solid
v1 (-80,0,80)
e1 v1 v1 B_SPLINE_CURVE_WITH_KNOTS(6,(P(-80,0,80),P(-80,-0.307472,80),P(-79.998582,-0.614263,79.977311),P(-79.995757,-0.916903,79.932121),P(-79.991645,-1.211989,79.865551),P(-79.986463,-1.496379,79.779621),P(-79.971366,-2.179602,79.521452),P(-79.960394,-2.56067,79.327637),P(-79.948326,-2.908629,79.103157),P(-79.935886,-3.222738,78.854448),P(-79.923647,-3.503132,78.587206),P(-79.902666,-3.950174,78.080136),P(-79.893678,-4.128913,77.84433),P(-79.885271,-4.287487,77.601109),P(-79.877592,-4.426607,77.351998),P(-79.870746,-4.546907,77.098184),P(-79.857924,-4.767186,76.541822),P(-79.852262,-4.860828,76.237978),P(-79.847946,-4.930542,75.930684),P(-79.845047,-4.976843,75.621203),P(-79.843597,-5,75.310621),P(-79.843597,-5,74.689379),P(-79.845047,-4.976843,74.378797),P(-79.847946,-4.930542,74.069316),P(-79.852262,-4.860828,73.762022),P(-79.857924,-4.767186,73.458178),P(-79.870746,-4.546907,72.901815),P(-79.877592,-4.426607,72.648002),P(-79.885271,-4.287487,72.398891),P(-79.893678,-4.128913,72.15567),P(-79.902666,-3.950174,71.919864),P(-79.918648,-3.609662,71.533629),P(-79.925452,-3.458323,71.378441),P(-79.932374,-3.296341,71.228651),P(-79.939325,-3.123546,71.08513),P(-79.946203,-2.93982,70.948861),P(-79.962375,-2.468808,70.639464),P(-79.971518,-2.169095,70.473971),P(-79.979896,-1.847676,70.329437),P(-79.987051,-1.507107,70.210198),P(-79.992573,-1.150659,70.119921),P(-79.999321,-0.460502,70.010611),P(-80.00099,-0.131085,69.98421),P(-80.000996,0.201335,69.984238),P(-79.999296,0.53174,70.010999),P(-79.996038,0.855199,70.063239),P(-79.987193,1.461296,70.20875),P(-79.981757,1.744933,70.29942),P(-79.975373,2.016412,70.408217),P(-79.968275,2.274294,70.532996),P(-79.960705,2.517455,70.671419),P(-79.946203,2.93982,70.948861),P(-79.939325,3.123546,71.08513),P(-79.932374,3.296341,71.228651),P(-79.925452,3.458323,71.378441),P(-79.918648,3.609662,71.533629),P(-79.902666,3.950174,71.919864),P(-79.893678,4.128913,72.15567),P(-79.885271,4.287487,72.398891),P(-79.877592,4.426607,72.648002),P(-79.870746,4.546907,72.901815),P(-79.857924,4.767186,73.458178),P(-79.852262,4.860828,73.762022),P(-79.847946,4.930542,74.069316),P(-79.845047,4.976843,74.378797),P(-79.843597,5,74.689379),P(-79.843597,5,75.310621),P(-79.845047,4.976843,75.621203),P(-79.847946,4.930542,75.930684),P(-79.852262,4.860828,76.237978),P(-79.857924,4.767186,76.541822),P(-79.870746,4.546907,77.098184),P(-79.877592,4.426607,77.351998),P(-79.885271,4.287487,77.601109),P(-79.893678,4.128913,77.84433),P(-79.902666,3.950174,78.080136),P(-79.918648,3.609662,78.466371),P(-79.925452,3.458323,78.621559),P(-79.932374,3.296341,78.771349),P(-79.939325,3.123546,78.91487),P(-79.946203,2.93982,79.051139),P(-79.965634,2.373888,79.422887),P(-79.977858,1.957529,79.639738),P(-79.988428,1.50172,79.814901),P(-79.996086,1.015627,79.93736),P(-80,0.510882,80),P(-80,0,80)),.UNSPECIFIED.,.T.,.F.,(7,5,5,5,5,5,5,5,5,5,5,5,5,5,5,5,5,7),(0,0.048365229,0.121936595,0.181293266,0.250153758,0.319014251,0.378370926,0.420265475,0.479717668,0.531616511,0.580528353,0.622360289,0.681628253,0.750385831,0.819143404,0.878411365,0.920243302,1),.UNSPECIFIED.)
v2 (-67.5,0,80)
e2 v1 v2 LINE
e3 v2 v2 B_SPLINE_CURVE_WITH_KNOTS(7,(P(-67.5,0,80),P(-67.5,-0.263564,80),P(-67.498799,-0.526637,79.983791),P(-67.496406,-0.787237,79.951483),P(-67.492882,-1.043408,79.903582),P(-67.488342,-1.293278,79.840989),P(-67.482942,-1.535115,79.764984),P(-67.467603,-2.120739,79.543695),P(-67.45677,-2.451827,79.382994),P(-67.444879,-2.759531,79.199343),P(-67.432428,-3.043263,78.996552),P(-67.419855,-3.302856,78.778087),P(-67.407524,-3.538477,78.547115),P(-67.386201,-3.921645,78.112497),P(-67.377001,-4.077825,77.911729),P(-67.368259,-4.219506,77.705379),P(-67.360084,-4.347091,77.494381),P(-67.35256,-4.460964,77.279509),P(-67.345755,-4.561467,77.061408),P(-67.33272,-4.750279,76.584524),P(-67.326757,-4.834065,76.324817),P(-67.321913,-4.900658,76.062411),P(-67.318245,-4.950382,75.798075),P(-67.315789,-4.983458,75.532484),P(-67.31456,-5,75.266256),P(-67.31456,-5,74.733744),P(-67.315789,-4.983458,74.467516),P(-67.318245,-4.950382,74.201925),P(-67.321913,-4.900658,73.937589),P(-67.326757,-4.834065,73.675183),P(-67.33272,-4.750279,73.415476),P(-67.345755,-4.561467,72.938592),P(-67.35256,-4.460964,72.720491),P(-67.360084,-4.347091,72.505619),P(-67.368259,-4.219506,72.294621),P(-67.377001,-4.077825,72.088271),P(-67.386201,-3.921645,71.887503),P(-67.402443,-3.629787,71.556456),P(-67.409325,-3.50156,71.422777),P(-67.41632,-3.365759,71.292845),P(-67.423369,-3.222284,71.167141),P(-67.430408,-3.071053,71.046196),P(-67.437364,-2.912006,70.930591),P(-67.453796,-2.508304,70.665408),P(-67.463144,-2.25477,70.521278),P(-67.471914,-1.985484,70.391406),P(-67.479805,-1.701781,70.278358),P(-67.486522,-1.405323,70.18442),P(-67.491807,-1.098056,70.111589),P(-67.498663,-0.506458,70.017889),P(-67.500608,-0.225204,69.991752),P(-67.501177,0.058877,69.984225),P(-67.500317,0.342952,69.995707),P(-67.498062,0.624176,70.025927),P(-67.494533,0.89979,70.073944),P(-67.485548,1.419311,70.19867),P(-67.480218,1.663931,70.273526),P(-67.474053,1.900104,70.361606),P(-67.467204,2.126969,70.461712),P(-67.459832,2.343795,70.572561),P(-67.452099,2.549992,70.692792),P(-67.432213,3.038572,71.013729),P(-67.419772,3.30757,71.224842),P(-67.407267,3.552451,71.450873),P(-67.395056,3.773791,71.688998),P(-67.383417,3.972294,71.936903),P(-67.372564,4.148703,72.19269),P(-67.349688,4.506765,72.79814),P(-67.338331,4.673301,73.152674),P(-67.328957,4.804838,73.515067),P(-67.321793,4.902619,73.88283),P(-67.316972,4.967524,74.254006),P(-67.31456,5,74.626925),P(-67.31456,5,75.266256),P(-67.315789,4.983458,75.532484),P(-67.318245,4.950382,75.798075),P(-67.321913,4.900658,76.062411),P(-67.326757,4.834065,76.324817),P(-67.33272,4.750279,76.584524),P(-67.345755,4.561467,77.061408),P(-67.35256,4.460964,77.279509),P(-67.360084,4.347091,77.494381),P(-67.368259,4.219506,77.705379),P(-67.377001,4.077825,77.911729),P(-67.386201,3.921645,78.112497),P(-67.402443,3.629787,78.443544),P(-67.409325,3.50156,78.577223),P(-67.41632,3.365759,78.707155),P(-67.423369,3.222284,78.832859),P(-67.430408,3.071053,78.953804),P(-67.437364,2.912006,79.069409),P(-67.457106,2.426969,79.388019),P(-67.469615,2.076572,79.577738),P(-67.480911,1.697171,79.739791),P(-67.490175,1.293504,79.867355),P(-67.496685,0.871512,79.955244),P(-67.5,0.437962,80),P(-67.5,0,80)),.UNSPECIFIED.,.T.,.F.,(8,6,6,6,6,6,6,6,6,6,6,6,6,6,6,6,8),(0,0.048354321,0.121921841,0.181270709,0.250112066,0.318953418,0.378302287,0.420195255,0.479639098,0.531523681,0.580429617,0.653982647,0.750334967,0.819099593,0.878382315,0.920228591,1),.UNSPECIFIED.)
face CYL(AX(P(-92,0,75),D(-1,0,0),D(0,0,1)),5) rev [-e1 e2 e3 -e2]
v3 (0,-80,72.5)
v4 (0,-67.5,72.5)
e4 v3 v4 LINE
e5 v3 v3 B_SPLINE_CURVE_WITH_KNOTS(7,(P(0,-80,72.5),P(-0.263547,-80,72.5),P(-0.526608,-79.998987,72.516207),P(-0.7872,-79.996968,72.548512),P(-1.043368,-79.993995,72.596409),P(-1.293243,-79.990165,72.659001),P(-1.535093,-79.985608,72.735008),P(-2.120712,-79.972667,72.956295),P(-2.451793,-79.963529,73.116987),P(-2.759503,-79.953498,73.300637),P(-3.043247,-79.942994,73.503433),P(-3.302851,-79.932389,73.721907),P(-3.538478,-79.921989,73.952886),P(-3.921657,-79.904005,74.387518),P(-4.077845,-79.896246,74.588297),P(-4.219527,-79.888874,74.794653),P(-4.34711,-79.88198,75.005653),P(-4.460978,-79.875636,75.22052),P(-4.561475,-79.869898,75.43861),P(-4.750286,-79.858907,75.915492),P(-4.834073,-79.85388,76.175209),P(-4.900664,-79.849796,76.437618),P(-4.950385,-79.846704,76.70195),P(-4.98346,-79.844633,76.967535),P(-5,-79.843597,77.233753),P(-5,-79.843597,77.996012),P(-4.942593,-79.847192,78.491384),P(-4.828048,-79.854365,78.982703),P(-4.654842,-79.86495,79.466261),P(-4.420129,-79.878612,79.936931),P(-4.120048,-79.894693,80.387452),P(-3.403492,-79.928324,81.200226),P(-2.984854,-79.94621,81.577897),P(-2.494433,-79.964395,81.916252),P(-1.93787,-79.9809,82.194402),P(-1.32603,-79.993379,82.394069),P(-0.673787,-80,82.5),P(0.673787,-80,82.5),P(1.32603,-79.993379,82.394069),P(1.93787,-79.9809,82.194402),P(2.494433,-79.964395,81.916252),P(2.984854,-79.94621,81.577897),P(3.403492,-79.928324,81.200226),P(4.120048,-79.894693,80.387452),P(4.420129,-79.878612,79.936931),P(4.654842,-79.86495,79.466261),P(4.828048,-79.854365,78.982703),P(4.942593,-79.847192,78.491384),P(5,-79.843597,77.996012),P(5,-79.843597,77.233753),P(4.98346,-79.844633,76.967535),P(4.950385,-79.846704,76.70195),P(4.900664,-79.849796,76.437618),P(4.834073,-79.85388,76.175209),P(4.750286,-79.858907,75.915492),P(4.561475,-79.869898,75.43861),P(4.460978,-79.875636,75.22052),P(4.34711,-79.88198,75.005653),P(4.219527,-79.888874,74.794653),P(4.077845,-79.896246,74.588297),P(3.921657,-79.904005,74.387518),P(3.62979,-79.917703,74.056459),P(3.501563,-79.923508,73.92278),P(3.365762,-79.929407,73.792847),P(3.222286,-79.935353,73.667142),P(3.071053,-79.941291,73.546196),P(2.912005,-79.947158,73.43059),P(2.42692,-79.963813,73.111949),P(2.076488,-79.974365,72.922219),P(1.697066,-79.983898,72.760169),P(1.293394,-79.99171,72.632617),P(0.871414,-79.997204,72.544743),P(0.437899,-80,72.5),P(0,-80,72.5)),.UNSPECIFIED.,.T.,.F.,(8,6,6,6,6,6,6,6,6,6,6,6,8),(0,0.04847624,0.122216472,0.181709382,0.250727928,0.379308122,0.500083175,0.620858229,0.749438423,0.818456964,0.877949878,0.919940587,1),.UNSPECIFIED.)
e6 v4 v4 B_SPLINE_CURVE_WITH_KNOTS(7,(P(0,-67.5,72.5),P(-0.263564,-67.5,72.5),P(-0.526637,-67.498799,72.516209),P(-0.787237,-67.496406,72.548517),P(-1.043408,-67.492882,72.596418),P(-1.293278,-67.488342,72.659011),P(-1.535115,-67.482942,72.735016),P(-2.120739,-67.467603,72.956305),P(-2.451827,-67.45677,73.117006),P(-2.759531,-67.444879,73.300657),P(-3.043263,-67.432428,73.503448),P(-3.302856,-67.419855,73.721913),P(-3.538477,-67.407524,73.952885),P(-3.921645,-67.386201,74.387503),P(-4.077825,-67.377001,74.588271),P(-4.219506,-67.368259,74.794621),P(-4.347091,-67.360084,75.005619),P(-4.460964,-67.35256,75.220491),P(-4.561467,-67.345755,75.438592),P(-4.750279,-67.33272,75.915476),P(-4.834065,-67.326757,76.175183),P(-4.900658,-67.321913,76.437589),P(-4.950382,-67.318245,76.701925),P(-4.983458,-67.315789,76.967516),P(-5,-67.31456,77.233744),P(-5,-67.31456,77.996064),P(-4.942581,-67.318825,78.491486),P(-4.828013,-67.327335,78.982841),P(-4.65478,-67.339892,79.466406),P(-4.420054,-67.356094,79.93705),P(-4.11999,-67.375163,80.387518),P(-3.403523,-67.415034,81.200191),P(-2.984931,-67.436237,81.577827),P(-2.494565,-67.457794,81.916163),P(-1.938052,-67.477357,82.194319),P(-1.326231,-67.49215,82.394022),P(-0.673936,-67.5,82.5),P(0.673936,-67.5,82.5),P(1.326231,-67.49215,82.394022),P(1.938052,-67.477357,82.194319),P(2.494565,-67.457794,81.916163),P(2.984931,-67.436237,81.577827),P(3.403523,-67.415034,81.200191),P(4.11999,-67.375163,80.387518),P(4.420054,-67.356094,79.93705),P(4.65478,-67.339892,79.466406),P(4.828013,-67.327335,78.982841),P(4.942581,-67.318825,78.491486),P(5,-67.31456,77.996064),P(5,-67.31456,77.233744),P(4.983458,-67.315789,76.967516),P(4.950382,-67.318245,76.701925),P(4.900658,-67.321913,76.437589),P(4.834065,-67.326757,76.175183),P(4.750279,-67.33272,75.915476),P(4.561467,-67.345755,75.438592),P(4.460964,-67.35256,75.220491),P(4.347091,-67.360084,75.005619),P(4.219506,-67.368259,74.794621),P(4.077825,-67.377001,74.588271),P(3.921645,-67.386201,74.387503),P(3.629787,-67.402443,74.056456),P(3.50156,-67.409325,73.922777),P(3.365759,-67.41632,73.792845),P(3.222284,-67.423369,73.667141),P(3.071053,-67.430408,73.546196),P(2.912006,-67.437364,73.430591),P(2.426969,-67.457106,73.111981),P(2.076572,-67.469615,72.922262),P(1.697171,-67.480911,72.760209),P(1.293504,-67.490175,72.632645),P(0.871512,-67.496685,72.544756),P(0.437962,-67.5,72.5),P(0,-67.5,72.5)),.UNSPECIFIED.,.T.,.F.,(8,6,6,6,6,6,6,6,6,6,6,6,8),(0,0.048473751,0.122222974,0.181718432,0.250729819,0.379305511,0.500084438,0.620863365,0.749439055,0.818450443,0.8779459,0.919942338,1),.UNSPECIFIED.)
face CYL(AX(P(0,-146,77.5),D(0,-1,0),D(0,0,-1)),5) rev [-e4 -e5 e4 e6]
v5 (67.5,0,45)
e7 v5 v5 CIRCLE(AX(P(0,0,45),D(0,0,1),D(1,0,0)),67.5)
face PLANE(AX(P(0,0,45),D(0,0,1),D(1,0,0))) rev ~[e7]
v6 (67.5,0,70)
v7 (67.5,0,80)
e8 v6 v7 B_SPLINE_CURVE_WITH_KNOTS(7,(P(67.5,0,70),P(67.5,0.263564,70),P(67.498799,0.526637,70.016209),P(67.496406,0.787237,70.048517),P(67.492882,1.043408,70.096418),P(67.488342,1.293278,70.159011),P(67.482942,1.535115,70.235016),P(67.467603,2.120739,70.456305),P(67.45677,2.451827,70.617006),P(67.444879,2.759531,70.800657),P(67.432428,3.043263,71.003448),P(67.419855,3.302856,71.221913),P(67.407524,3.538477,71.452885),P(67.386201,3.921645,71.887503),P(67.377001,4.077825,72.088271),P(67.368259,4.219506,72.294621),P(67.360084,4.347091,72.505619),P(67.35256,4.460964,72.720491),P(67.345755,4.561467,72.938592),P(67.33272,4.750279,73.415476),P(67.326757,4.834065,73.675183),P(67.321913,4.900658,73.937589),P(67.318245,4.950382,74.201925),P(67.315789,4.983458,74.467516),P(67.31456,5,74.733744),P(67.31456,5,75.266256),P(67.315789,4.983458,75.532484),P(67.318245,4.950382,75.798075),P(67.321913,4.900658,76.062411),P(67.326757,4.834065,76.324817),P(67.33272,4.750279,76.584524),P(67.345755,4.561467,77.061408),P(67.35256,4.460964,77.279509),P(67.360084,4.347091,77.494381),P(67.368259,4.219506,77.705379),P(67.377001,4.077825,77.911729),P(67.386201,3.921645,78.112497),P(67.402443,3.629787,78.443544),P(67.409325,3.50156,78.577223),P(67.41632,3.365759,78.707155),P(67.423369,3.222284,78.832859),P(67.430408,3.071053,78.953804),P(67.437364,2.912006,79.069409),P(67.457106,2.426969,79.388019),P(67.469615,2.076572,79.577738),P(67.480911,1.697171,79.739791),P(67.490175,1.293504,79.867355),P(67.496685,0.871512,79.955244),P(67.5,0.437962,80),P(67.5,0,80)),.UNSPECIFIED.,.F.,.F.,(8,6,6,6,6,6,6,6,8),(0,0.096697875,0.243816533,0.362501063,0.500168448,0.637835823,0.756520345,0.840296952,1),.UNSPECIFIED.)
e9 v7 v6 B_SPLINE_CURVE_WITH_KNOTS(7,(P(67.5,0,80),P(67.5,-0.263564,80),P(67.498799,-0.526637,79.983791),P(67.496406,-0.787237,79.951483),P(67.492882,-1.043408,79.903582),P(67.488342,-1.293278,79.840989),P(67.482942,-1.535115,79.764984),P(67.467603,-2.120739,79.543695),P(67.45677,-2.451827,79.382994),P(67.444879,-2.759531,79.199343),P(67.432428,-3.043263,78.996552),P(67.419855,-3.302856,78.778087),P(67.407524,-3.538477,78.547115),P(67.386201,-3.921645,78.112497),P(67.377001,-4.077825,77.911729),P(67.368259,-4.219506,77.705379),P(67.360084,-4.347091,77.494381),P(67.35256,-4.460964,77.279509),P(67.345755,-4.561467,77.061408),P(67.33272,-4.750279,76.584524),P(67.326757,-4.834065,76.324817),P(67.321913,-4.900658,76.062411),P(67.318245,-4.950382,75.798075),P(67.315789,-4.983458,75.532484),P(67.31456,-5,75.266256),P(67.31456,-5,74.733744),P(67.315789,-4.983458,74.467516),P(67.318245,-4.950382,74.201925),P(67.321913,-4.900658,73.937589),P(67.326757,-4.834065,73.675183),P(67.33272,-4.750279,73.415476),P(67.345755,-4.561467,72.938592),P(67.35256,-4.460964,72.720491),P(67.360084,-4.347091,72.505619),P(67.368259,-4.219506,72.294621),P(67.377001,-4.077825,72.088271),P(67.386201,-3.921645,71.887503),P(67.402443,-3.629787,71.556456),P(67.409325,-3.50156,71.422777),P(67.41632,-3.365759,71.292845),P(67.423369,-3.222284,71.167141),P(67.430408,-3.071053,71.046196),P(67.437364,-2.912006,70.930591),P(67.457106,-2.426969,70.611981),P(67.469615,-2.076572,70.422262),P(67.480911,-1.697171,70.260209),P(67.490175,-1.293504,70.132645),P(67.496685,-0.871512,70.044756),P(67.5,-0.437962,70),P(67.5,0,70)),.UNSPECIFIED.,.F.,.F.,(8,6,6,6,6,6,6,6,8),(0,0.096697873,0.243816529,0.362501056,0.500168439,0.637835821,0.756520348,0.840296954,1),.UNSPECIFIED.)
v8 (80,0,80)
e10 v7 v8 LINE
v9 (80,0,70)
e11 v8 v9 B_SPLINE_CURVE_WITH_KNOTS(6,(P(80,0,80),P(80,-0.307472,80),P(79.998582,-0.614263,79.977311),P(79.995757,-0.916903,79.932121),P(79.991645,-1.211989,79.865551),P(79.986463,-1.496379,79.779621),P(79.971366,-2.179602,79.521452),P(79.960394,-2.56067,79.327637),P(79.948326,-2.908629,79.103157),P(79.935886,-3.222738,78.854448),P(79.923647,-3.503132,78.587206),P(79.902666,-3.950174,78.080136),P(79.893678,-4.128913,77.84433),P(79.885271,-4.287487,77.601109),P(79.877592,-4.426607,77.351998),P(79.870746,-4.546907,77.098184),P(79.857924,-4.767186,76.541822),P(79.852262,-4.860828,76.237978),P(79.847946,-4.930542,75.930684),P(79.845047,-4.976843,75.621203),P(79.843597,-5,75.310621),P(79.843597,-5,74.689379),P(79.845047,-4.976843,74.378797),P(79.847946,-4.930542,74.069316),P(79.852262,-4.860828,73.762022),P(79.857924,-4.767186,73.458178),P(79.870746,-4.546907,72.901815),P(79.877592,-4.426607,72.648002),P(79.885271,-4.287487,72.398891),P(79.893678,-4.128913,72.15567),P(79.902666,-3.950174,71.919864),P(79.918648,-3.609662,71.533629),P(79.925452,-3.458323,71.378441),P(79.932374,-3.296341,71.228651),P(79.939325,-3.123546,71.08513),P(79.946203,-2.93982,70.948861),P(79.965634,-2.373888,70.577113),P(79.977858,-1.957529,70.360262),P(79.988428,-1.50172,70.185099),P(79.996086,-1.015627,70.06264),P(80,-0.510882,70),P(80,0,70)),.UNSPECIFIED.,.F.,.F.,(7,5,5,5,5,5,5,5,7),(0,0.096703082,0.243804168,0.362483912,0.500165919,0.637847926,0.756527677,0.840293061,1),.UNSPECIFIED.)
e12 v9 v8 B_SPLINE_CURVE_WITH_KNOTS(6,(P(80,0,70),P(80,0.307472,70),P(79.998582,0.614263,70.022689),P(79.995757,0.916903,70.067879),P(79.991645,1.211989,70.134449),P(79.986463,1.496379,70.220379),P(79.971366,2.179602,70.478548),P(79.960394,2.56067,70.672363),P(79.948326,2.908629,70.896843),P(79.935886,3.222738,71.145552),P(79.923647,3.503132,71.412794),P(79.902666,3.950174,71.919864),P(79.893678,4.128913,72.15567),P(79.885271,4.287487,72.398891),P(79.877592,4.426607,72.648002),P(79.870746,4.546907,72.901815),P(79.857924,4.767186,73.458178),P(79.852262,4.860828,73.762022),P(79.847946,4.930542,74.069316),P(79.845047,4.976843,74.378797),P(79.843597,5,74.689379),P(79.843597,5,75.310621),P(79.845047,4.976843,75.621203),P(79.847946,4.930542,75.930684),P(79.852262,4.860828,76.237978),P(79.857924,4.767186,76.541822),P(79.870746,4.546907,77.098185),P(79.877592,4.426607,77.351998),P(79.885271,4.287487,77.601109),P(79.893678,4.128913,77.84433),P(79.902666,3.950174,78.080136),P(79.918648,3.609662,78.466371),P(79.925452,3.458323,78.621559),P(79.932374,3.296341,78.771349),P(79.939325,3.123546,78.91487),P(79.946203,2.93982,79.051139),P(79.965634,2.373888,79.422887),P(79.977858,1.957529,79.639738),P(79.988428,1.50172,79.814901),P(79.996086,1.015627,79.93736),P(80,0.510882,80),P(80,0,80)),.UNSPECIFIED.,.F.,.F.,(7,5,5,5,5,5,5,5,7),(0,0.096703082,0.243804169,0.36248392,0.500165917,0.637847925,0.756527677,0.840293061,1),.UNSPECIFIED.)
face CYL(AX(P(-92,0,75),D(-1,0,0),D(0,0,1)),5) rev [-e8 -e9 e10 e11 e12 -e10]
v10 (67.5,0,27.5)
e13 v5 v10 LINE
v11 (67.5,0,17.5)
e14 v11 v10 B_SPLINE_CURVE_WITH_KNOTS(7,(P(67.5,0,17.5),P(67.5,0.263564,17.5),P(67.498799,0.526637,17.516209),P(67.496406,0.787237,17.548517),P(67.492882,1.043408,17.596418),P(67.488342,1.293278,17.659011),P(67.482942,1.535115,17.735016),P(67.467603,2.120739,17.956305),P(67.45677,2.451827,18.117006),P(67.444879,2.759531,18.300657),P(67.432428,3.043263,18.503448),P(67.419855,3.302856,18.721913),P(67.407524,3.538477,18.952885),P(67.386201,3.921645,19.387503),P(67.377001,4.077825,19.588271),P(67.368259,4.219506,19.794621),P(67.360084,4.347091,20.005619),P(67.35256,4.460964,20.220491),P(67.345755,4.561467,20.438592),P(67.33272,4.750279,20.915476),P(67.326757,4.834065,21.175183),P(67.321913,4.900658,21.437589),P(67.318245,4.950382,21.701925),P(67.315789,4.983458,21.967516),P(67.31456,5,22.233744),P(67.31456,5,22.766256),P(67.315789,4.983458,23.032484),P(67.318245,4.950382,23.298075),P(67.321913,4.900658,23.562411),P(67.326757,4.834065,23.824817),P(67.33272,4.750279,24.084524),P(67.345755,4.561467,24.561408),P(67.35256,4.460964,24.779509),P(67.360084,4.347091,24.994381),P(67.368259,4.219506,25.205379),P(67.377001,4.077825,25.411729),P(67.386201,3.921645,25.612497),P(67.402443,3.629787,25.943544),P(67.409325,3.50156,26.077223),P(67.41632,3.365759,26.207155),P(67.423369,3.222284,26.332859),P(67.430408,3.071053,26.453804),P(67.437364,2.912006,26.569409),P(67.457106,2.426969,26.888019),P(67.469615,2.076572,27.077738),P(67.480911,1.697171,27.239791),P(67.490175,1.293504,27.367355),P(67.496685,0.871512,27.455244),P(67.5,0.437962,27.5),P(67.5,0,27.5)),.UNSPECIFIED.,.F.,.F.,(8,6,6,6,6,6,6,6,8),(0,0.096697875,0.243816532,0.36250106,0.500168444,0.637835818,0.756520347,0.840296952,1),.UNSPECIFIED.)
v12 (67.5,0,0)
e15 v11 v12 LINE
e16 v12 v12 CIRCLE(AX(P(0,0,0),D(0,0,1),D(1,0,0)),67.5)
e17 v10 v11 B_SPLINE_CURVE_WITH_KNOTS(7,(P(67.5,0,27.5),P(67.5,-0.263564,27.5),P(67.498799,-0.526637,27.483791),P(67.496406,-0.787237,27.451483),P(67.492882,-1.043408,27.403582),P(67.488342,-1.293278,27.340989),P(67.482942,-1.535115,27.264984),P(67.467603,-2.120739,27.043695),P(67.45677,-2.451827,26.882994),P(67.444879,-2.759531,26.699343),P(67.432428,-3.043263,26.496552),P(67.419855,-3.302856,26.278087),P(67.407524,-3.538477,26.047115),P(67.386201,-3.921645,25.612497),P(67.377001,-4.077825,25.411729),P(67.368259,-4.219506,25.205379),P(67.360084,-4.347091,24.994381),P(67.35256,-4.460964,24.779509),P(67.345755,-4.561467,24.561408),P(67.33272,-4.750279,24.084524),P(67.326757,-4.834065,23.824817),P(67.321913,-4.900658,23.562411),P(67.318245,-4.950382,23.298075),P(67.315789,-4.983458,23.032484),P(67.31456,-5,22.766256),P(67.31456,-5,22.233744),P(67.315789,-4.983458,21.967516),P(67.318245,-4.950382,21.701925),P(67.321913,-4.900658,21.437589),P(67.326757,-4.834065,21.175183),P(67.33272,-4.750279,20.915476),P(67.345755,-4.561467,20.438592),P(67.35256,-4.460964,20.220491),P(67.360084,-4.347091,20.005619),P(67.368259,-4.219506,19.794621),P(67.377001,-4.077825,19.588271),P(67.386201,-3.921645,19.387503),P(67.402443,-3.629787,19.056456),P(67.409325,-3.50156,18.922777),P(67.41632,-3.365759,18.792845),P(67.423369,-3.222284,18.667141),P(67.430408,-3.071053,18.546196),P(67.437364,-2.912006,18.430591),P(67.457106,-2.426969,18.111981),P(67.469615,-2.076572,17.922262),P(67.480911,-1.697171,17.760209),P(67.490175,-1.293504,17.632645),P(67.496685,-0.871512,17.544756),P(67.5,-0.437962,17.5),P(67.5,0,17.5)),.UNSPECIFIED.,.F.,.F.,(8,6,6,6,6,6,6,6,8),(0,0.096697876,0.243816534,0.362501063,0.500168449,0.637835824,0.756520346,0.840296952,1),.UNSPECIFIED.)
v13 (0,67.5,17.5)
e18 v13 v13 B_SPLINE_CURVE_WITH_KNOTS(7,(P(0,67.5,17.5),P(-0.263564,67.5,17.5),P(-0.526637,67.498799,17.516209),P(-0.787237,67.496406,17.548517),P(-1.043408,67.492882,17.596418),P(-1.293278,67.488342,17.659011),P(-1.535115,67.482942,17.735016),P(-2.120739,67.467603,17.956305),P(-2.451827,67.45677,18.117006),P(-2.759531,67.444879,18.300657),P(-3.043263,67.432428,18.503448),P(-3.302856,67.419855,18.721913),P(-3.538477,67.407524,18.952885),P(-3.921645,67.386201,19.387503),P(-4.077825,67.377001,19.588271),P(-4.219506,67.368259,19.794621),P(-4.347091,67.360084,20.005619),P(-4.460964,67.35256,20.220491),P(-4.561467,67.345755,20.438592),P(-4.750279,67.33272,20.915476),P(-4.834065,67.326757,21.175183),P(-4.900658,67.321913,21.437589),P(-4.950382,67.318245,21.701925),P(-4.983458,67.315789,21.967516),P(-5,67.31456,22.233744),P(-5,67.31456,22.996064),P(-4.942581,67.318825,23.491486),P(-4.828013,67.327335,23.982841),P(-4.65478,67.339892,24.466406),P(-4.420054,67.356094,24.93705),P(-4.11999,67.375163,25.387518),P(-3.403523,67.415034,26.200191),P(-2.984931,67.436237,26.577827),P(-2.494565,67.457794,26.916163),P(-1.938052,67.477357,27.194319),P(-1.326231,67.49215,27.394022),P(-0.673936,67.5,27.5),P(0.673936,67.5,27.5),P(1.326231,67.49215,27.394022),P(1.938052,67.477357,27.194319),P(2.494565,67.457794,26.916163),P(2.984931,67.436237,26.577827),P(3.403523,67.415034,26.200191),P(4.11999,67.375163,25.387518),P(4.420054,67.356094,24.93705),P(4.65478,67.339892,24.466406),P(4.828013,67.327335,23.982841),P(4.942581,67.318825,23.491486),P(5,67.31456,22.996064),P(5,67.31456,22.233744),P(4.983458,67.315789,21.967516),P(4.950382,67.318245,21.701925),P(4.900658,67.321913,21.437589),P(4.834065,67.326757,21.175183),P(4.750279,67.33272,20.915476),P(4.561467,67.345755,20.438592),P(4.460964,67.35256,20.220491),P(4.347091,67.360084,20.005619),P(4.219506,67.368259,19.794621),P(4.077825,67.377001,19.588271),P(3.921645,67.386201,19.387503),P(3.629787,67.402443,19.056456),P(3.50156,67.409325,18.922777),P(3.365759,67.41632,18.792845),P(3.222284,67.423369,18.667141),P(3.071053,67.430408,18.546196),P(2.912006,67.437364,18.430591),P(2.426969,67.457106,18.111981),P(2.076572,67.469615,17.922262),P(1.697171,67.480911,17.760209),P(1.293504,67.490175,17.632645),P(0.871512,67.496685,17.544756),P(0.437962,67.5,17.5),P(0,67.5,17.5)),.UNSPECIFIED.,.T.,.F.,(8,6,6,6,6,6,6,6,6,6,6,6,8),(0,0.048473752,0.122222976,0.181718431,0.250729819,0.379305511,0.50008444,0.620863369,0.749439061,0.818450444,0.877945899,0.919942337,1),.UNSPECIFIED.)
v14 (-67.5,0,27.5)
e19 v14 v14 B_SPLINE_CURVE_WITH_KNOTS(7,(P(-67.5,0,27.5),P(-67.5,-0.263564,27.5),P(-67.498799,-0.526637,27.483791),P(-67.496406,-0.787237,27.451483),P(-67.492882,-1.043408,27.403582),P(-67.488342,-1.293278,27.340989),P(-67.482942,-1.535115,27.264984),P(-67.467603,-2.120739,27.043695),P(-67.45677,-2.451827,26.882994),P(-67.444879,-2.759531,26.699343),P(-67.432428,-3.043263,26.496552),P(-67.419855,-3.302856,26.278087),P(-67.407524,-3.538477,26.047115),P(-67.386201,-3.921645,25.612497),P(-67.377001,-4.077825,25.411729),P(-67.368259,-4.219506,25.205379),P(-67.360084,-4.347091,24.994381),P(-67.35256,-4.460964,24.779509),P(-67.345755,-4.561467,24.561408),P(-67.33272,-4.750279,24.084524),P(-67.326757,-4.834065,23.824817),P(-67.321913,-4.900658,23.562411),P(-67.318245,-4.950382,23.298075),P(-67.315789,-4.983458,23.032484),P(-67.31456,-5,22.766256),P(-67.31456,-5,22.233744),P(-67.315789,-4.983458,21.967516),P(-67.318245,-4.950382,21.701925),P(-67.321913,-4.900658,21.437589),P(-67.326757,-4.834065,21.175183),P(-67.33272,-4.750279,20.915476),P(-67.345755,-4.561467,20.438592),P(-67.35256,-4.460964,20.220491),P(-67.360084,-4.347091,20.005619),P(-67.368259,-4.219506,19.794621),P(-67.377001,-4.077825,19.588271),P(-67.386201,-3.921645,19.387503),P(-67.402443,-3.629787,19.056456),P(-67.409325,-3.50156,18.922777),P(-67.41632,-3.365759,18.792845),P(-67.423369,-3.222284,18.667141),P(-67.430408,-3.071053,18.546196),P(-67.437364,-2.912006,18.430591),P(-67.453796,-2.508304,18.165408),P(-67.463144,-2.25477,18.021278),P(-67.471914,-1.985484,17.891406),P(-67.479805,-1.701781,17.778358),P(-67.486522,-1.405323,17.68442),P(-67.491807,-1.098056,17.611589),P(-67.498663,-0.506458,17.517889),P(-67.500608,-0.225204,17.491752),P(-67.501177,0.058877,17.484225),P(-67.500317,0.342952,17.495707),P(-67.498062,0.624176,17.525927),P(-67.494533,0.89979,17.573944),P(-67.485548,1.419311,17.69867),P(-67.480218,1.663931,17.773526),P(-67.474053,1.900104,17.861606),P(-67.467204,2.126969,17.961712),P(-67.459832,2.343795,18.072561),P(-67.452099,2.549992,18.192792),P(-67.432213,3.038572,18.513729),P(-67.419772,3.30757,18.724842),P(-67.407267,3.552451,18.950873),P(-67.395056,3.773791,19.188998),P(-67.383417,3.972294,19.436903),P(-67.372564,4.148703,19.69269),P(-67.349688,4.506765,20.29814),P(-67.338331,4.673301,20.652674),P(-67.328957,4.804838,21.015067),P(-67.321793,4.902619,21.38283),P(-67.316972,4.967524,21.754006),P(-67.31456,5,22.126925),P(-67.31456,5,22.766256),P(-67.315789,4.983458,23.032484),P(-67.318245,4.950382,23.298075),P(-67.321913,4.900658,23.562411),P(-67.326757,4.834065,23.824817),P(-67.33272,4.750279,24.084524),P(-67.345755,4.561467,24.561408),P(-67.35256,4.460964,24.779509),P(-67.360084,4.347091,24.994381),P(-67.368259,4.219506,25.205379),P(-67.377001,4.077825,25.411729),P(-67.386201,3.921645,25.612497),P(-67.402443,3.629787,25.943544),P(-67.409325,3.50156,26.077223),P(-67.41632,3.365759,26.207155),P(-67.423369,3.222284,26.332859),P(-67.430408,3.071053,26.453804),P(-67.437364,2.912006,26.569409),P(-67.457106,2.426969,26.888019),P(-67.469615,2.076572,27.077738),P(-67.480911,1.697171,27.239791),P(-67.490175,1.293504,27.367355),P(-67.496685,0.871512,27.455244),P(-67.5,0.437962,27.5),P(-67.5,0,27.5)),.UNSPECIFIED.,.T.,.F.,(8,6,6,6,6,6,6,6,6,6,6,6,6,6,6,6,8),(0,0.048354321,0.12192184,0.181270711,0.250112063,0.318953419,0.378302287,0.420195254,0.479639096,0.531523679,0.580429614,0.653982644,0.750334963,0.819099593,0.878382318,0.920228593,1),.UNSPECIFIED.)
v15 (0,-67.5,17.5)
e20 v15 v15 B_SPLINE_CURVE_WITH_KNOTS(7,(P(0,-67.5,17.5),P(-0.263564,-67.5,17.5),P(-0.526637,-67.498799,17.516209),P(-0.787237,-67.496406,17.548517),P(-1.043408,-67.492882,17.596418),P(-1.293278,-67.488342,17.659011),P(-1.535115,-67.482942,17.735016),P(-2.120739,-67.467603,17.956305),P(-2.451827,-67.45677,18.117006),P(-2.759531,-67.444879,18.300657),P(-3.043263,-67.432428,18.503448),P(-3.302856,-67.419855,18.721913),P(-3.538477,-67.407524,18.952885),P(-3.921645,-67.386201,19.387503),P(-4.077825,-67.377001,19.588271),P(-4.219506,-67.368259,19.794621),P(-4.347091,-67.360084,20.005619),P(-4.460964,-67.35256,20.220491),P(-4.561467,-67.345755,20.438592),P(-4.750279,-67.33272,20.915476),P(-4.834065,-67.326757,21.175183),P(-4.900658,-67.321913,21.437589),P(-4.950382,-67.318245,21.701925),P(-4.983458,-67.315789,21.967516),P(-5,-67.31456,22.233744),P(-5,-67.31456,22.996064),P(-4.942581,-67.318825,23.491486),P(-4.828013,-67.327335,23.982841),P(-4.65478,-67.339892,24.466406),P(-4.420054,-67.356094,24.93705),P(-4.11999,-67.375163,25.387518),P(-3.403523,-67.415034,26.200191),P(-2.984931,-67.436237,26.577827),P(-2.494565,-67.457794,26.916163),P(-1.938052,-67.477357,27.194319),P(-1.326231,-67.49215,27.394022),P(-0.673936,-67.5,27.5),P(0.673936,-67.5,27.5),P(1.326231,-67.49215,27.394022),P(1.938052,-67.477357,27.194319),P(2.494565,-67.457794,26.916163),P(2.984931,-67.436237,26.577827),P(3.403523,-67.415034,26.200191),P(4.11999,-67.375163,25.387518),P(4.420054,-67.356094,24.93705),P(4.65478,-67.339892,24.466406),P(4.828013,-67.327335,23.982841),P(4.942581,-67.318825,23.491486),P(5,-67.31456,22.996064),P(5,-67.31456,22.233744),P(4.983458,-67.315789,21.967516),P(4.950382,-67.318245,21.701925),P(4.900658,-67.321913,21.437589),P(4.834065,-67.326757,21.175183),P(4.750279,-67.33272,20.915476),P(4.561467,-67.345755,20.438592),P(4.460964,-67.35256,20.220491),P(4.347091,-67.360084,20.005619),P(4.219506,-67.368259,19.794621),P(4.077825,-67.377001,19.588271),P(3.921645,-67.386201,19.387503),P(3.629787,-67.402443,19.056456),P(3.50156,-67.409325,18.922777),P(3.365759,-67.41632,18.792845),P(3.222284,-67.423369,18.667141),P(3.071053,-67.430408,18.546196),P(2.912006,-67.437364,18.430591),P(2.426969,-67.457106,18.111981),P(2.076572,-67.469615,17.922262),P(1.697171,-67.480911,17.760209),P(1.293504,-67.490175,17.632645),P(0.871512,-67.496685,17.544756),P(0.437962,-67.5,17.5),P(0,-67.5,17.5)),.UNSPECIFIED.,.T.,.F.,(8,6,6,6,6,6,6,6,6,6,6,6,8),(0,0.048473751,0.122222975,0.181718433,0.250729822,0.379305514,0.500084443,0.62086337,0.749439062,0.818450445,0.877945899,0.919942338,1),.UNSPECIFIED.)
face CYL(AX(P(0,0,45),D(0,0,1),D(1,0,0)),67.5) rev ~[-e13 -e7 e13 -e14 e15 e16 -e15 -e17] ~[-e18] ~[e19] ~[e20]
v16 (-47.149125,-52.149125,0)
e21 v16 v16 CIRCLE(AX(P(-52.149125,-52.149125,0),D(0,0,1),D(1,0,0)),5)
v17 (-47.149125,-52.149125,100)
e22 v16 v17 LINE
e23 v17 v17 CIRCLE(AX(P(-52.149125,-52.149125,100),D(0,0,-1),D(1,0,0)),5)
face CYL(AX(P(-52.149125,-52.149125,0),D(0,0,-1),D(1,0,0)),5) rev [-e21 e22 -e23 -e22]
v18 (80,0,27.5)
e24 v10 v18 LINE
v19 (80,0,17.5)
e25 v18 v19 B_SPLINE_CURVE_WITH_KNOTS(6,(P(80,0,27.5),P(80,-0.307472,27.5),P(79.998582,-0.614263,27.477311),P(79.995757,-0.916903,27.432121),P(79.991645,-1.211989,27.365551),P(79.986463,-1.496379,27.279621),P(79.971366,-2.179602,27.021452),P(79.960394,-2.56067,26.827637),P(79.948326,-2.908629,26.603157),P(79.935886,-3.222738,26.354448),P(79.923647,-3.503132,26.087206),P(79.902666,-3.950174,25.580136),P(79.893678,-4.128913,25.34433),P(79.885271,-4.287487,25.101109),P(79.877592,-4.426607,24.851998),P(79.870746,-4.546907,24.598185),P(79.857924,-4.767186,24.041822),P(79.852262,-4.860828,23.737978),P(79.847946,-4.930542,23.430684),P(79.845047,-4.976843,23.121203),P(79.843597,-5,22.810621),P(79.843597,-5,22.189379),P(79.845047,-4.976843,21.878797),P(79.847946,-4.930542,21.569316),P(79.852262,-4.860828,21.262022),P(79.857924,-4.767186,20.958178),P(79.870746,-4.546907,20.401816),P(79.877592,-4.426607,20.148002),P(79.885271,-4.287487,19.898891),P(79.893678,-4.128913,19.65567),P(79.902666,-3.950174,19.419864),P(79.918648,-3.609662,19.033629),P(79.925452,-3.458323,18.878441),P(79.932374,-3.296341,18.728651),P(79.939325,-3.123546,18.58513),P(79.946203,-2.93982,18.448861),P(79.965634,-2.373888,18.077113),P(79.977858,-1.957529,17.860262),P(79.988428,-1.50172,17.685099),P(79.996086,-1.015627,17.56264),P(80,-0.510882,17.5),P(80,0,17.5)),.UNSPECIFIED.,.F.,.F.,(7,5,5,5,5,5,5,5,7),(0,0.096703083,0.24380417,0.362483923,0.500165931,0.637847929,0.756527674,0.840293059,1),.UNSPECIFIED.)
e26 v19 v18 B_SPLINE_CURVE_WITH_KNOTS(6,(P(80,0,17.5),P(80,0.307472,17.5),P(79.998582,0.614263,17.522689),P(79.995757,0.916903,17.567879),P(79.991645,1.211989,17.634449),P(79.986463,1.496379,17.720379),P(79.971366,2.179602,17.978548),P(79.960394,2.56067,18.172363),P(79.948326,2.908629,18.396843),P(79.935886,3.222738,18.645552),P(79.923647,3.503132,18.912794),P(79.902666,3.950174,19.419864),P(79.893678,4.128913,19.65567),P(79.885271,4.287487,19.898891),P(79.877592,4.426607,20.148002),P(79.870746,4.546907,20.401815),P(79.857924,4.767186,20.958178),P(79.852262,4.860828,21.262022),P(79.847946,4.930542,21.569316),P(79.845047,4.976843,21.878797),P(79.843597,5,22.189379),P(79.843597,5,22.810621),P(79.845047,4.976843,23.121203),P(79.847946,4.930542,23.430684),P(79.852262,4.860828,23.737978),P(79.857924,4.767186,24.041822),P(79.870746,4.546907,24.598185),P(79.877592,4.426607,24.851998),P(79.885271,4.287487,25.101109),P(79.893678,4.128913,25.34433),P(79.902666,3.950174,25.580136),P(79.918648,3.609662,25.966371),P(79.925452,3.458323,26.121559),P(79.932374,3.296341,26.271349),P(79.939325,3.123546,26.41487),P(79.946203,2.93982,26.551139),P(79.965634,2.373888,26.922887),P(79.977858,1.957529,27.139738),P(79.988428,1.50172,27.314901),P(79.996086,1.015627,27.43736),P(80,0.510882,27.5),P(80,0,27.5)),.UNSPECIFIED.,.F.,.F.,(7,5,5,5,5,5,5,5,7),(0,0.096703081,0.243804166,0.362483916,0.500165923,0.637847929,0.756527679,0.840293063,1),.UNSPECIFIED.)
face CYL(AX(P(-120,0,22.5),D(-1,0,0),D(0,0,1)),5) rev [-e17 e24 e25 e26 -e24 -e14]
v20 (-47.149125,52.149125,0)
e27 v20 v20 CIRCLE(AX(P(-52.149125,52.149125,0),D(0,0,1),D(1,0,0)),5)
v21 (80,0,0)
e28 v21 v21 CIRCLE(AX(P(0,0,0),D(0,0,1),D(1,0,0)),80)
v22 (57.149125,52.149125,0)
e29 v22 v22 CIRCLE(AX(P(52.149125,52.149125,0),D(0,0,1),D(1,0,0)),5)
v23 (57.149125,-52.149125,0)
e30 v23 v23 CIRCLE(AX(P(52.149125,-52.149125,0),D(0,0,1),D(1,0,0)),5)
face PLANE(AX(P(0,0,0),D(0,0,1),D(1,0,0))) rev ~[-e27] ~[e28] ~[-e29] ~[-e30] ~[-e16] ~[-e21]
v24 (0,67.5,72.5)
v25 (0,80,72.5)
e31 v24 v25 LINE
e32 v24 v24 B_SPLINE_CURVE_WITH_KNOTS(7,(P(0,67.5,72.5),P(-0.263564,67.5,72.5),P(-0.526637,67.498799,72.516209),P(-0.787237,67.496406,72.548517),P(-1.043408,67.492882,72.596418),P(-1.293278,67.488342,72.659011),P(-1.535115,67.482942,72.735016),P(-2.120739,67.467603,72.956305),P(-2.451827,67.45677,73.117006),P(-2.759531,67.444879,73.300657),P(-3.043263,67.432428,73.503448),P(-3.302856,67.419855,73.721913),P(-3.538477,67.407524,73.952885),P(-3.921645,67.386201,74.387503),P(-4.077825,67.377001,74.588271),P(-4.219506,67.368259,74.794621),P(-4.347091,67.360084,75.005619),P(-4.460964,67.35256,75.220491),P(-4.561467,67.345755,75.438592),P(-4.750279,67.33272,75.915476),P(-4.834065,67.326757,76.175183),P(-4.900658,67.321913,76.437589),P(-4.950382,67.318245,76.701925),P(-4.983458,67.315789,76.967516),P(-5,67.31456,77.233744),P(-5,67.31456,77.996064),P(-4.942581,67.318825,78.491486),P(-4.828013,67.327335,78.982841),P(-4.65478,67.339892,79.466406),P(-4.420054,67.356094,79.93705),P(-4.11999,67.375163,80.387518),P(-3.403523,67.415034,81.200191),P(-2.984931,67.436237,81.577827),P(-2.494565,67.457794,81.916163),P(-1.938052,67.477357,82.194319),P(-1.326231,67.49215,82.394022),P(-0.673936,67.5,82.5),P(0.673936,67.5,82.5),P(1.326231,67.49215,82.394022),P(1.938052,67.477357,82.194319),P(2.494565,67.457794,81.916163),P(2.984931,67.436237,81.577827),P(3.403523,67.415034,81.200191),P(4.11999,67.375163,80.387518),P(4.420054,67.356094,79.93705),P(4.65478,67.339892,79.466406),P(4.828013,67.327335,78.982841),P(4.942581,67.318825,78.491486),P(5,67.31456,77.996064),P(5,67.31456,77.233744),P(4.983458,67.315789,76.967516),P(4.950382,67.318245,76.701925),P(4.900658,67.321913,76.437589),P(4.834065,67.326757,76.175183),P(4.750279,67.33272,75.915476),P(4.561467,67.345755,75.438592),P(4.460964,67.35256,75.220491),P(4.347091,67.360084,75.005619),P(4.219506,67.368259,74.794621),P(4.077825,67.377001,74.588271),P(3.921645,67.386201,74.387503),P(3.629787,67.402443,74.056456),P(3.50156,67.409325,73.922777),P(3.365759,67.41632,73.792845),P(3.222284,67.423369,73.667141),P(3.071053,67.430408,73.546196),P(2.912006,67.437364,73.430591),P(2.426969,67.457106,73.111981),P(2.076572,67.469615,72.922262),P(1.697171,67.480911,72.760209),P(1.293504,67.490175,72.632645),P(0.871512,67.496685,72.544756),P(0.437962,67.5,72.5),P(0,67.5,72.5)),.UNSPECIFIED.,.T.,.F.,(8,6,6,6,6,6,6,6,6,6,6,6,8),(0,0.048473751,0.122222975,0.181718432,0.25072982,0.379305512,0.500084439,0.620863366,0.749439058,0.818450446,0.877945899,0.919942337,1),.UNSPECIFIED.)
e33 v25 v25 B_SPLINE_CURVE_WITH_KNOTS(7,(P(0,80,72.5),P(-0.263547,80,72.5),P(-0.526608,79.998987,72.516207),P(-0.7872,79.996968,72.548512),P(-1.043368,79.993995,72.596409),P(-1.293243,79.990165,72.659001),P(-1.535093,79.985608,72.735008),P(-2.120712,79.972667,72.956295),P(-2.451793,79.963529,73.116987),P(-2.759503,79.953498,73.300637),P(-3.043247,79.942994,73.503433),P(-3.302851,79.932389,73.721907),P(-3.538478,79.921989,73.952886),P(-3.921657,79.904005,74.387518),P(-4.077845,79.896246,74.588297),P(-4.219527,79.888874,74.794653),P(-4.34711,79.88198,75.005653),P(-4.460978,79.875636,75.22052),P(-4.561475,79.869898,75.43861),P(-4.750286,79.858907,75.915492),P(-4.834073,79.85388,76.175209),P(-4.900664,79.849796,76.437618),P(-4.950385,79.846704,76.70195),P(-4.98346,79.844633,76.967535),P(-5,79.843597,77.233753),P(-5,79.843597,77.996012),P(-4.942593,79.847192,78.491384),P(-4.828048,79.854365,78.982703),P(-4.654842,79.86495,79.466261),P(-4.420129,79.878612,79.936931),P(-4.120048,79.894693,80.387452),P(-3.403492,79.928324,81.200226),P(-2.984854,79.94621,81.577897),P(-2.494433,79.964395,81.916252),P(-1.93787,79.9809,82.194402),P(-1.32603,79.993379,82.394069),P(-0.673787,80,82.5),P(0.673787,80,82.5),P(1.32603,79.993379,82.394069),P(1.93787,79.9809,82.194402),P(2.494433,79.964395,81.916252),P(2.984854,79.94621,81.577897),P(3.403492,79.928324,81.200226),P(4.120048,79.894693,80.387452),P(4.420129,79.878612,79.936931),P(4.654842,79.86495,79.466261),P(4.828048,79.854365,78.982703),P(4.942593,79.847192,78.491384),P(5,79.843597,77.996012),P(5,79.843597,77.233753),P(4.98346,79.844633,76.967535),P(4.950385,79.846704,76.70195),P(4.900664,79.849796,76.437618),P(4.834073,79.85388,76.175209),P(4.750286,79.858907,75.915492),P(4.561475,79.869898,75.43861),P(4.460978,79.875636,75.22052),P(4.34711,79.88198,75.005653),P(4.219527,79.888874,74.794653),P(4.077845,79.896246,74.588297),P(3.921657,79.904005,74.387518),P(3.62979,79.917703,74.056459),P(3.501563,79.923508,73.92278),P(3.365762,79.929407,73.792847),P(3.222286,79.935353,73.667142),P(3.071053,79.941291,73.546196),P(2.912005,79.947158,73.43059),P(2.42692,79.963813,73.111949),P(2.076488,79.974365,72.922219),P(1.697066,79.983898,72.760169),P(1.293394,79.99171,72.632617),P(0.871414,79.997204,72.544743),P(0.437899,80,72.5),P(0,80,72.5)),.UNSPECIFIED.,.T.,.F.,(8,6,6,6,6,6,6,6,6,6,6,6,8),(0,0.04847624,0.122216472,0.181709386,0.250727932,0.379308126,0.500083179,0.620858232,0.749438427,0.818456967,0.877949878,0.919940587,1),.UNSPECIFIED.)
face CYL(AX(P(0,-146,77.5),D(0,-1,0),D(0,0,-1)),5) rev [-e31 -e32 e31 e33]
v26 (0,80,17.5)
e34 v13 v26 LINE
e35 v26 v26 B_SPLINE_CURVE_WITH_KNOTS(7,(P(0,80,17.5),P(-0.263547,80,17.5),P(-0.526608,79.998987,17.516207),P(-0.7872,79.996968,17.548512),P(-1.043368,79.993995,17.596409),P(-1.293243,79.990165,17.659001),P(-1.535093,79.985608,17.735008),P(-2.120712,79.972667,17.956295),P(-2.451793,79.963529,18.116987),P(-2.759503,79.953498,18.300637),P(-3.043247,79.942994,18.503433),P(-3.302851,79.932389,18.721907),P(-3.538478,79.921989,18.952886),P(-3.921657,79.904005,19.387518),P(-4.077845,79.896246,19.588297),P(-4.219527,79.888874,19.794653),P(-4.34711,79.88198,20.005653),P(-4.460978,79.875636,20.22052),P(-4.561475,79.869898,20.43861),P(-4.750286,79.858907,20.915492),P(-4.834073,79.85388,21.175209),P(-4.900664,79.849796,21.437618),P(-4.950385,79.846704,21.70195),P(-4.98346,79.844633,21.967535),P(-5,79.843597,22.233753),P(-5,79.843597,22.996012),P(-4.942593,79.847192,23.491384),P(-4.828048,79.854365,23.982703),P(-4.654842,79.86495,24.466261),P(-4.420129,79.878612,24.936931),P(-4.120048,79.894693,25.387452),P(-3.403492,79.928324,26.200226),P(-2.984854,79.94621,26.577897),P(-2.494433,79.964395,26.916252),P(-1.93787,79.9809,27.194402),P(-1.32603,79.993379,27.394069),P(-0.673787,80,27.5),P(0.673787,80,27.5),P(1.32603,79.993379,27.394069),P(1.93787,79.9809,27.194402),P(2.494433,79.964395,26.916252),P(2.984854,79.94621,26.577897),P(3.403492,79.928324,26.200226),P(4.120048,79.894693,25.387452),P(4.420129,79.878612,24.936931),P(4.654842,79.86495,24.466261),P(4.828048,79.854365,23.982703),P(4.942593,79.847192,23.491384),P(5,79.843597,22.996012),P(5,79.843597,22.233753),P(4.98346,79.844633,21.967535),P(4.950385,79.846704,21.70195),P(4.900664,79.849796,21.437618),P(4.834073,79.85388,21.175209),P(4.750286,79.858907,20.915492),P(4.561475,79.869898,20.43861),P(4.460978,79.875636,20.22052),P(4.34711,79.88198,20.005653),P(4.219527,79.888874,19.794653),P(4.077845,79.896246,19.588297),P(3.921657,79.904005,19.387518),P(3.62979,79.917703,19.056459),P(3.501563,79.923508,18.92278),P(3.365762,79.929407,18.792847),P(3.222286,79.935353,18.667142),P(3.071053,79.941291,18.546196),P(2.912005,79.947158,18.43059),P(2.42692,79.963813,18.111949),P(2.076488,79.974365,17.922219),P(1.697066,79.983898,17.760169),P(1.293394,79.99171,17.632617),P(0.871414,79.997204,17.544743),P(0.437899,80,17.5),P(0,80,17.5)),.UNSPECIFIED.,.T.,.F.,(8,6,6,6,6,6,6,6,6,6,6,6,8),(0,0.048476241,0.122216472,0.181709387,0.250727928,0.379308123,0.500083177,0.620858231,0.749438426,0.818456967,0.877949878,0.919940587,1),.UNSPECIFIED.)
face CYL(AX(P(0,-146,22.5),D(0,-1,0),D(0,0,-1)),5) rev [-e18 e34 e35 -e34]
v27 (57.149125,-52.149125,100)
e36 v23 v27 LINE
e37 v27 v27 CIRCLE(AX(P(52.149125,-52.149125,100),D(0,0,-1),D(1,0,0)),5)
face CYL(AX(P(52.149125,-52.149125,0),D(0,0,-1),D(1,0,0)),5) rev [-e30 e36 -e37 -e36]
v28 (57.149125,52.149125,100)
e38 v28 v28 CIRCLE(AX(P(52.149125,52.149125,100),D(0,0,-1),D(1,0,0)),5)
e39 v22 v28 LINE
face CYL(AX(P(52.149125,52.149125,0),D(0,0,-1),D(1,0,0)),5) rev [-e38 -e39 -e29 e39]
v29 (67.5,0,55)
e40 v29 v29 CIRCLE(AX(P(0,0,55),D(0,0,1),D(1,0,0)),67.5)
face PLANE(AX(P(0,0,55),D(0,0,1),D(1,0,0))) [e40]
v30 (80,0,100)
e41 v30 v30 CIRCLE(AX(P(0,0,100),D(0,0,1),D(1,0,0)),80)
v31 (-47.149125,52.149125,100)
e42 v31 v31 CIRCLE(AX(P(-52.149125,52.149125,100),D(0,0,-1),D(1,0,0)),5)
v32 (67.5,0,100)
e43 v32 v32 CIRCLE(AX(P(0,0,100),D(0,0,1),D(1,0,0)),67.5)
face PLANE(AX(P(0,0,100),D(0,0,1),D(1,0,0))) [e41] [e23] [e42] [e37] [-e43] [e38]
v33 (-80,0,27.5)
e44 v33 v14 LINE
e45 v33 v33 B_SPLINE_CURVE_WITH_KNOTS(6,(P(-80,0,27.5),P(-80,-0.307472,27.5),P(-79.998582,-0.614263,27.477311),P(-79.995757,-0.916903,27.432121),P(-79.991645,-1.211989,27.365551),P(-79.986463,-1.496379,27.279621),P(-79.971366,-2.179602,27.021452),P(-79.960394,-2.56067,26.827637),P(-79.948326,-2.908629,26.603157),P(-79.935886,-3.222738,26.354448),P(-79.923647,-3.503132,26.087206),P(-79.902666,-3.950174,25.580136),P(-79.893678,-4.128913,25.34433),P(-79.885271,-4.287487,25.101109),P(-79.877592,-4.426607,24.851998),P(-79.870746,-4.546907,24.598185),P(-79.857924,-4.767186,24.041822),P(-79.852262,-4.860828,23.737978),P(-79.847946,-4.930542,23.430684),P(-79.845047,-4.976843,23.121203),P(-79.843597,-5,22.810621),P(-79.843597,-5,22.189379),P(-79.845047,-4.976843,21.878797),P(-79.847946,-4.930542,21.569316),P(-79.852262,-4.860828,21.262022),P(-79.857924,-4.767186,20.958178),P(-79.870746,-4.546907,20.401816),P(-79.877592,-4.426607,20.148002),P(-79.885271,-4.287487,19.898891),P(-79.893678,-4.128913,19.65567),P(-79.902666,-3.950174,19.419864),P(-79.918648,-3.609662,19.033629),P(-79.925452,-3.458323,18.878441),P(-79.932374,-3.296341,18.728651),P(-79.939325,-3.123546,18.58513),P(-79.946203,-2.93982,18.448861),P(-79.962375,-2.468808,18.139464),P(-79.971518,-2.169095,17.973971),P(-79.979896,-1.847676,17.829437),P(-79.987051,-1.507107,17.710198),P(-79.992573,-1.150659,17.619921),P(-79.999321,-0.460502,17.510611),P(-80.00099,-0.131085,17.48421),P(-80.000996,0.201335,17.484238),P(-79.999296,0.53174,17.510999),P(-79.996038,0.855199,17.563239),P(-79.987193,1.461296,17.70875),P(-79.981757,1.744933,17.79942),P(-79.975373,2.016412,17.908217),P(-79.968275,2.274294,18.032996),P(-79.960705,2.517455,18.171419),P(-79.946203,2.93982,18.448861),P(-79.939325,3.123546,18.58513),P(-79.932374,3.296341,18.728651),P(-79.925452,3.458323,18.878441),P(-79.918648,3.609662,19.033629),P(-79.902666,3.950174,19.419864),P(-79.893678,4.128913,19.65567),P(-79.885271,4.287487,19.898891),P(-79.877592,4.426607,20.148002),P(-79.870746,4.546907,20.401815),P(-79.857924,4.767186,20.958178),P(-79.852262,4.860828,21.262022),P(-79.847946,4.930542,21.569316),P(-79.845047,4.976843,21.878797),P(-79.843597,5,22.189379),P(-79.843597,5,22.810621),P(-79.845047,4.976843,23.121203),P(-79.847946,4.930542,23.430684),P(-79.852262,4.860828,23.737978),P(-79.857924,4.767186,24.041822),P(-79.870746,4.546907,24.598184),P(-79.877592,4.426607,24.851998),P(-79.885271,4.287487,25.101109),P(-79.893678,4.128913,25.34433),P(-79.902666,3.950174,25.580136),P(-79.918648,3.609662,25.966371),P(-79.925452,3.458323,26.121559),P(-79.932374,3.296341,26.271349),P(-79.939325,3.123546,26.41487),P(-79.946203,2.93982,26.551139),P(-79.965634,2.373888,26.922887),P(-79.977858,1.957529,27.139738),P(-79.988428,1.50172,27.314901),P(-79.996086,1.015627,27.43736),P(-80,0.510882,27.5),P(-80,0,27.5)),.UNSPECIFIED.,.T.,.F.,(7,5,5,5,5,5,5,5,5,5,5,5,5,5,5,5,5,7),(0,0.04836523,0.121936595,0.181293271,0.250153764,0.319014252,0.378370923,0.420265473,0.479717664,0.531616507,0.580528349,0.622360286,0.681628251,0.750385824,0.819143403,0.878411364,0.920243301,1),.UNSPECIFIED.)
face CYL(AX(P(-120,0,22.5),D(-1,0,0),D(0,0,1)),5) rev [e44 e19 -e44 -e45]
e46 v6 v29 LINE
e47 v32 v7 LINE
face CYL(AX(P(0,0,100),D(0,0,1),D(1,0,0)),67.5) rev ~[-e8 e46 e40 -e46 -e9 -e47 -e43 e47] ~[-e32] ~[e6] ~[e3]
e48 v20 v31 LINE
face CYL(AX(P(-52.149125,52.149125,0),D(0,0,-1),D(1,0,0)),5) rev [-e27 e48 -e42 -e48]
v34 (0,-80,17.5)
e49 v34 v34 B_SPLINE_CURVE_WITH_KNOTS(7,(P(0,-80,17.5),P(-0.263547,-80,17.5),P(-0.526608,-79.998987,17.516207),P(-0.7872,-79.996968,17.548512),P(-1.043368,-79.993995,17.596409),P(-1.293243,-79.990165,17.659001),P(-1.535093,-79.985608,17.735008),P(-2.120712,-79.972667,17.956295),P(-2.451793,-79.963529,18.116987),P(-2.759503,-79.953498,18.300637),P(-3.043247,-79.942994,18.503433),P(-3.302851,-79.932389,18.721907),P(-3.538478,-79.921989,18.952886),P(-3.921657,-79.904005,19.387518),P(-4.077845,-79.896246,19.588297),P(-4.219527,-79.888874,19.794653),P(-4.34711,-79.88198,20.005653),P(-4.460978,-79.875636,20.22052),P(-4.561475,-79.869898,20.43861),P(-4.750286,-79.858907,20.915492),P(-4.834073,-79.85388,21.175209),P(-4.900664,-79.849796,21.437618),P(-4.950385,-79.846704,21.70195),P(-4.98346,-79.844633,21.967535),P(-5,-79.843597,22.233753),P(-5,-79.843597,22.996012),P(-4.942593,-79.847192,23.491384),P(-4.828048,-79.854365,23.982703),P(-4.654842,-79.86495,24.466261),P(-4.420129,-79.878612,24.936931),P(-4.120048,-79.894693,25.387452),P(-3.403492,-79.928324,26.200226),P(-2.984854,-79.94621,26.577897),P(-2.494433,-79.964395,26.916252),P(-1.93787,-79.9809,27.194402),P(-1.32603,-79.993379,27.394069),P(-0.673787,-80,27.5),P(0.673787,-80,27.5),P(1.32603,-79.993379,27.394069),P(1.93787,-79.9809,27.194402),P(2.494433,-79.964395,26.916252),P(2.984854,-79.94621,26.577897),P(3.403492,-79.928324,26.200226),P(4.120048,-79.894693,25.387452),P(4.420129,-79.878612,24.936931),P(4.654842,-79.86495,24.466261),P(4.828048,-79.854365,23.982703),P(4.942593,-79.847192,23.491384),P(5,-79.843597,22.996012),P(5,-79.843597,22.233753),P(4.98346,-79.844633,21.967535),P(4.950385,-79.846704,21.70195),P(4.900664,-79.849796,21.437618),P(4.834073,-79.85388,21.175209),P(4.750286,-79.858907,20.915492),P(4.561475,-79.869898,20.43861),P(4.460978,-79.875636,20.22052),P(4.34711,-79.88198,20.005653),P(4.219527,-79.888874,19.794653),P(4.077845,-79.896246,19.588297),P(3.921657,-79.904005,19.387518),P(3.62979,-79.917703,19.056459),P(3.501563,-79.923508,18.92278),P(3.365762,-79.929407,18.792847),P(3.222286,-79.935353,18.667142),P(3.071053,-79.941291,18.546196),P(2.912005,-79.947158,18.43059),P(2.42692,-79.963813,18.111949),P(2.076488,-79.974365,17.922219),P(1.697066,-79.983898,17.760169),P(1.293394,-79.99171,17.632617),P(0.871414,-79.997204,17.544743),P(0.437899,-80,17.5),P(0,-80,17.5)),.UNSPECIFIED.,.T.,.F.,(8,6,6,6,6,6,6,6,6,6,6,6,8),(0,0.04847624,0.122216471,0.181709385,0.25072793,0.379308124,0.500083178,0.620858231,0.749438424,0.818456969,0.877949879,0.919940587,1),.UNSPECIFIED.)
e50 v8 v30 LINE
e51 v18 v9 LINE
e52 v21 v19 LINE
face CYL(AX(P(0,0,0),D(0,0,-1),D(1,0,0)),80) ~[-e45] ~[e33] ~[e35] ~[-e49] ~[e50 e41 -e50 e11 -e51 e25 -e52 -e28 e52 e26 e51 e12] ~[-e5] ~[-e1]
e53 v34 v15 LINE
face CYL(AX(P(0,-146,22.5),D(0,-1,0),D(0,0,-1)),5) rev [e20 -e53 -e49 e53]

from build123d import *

# Parameters (mm, degrees)
SKETCH1_R               = 80
BOSS_EXTRUDE1_DEPTH     = 100
SKETCH3_R               = 67.5
CUT_EXTRUDE1_DEPTH      = 45
CUT_EXTRUDE5_START      = 45
SKETCH2_R               = 67.5
CUT_EXTRUDE5_DEPTH      = 45
CUT_EXTRUDE6_DEPTH      = 106
CUT_EXTRUDE6_DEPTH_BACK = 92
SKETCH5_R               = 5
CUT_EXTRUDE7_DEPTH      = 98
CUT_EXTRUDE7_DEPTH_BACK = 120
SKETCH5_3_R             = 5
CUT_EXTRUDE8_DEPTH      = 118
CUT_EXTRUDE8_DEPTH_BACK = 146
SKETCH6_R               = 5
SKETCH7_R               = 5
CUT_EXTRUDE15_DEPTH     = 118


with BuildPart() as part:
    # Sketch1 → Boss-Extrude1 (new body)
    with BuildSketch(Plane.XY):
        Circle(SKETCH1_R)
    extrude(amount=BOSS_EXTRUDE1_DEPTH)

    # Sketch3 → Cut-Extrude1 (cut)
    with BuildSketch(Plane.XY.offset(100)):
        Circle(SKETCH3_R)
    extrude(amount=-CUT_EXTRUDE1_DEPTH, mode=Mode.SUBTRACT)

    # Sketch2 → Cut-Extrude5 (cut)
    with BuildSketch(Plane.XY.offset(CUT_EXTRUDE5_START)):
        Circle(SKETCH2_R)
    extrude(amount=-CUT_EXTRUDE5_DEPTH, mode=Mode.SUBTRACT)

    # Sketch5 → Cut-Extrude6 (cut, two sides: drawn at the far end of the back side and taken through both)
    with BuildSketch(Plane(origin=(0, 0, 0), x_dir=(0, 0, -1), z_dir=(1, 0, 0)).offset(-CUT_EXTRUDE6_DEPTH_BACK)):
        with Locations((-75, 0)):
            Circle(SKETCH5_R)
    extrude(amount=CUT_EXTRUDE6_DEPTH + CUT_EXTRUDE6_DEPTH_BACK, mode=Mode.SUBTRACT)

    # Sketch5<3> → Cut-Extrude7 (cut, two sides: drawn at the far end of the back side and taken through both)
    with BuildSketch(Plane(origin=(0, 0, 0), x_dir=(0, 0, -1), z_dir=(1, 0, 0)).offset(-CUT_EXTRUDE7_DEPTH_BACK)):
        with Locations((-75, 0)):
            Circle(SKETCH5_3_R)
        with Locations((-22.5, 0)):
            Circle(SKETCH5_3_R)
    extrude(amount=CUT_EXTRUDE7_DEPTH + CUT_EXTRUDE7_DEPTH_BACK, mode=Mode.SUBTRACT)

    # Sketch6 → Cut-Extrude8 (cut, two sides: drawn at the far end of the back side and taken through both)
    with BuildSketch(Plane(origin=(0, 0, 0), x_dir=(1, 0, 0), z_dir=(0, 1, 0)).offset(-CUT_EXTRUDE8_DEPTH_BACK)):
        with Locations((0, -22.5)):
            Circle(SKETCH6_R)
        with Locations((0, -77.5)):
            Circle(SKETCH6_R)
    extrude(amount=CUT_EXTRUDE8_DEPTH + CUT_EXTRUDE8_DEPTH_BACK, mode=Mode.SUBTRACT)

    # Sketch7 → Cut-Extrude15 (cut)
    with BuildSketch(Plane.XY):
        with Locations((-52.149125113, 52.149125113)):
            Circle(SKETCH7_R)
        with Locations((52.149125113, 52.149125113)):
            Circle(SKETCH7_R)
        with Locations((52.149125113, -52.149125113)):
            Circle(SKETCH7_R)
        with Locations((-52.149125113, -52.149125113)):
            Circle(SKETCH7_R)
    extrude(amount=CUT_EXTRUDE15_DEPTH, mode=Mode.SUBTRACT)


solid = part.part
